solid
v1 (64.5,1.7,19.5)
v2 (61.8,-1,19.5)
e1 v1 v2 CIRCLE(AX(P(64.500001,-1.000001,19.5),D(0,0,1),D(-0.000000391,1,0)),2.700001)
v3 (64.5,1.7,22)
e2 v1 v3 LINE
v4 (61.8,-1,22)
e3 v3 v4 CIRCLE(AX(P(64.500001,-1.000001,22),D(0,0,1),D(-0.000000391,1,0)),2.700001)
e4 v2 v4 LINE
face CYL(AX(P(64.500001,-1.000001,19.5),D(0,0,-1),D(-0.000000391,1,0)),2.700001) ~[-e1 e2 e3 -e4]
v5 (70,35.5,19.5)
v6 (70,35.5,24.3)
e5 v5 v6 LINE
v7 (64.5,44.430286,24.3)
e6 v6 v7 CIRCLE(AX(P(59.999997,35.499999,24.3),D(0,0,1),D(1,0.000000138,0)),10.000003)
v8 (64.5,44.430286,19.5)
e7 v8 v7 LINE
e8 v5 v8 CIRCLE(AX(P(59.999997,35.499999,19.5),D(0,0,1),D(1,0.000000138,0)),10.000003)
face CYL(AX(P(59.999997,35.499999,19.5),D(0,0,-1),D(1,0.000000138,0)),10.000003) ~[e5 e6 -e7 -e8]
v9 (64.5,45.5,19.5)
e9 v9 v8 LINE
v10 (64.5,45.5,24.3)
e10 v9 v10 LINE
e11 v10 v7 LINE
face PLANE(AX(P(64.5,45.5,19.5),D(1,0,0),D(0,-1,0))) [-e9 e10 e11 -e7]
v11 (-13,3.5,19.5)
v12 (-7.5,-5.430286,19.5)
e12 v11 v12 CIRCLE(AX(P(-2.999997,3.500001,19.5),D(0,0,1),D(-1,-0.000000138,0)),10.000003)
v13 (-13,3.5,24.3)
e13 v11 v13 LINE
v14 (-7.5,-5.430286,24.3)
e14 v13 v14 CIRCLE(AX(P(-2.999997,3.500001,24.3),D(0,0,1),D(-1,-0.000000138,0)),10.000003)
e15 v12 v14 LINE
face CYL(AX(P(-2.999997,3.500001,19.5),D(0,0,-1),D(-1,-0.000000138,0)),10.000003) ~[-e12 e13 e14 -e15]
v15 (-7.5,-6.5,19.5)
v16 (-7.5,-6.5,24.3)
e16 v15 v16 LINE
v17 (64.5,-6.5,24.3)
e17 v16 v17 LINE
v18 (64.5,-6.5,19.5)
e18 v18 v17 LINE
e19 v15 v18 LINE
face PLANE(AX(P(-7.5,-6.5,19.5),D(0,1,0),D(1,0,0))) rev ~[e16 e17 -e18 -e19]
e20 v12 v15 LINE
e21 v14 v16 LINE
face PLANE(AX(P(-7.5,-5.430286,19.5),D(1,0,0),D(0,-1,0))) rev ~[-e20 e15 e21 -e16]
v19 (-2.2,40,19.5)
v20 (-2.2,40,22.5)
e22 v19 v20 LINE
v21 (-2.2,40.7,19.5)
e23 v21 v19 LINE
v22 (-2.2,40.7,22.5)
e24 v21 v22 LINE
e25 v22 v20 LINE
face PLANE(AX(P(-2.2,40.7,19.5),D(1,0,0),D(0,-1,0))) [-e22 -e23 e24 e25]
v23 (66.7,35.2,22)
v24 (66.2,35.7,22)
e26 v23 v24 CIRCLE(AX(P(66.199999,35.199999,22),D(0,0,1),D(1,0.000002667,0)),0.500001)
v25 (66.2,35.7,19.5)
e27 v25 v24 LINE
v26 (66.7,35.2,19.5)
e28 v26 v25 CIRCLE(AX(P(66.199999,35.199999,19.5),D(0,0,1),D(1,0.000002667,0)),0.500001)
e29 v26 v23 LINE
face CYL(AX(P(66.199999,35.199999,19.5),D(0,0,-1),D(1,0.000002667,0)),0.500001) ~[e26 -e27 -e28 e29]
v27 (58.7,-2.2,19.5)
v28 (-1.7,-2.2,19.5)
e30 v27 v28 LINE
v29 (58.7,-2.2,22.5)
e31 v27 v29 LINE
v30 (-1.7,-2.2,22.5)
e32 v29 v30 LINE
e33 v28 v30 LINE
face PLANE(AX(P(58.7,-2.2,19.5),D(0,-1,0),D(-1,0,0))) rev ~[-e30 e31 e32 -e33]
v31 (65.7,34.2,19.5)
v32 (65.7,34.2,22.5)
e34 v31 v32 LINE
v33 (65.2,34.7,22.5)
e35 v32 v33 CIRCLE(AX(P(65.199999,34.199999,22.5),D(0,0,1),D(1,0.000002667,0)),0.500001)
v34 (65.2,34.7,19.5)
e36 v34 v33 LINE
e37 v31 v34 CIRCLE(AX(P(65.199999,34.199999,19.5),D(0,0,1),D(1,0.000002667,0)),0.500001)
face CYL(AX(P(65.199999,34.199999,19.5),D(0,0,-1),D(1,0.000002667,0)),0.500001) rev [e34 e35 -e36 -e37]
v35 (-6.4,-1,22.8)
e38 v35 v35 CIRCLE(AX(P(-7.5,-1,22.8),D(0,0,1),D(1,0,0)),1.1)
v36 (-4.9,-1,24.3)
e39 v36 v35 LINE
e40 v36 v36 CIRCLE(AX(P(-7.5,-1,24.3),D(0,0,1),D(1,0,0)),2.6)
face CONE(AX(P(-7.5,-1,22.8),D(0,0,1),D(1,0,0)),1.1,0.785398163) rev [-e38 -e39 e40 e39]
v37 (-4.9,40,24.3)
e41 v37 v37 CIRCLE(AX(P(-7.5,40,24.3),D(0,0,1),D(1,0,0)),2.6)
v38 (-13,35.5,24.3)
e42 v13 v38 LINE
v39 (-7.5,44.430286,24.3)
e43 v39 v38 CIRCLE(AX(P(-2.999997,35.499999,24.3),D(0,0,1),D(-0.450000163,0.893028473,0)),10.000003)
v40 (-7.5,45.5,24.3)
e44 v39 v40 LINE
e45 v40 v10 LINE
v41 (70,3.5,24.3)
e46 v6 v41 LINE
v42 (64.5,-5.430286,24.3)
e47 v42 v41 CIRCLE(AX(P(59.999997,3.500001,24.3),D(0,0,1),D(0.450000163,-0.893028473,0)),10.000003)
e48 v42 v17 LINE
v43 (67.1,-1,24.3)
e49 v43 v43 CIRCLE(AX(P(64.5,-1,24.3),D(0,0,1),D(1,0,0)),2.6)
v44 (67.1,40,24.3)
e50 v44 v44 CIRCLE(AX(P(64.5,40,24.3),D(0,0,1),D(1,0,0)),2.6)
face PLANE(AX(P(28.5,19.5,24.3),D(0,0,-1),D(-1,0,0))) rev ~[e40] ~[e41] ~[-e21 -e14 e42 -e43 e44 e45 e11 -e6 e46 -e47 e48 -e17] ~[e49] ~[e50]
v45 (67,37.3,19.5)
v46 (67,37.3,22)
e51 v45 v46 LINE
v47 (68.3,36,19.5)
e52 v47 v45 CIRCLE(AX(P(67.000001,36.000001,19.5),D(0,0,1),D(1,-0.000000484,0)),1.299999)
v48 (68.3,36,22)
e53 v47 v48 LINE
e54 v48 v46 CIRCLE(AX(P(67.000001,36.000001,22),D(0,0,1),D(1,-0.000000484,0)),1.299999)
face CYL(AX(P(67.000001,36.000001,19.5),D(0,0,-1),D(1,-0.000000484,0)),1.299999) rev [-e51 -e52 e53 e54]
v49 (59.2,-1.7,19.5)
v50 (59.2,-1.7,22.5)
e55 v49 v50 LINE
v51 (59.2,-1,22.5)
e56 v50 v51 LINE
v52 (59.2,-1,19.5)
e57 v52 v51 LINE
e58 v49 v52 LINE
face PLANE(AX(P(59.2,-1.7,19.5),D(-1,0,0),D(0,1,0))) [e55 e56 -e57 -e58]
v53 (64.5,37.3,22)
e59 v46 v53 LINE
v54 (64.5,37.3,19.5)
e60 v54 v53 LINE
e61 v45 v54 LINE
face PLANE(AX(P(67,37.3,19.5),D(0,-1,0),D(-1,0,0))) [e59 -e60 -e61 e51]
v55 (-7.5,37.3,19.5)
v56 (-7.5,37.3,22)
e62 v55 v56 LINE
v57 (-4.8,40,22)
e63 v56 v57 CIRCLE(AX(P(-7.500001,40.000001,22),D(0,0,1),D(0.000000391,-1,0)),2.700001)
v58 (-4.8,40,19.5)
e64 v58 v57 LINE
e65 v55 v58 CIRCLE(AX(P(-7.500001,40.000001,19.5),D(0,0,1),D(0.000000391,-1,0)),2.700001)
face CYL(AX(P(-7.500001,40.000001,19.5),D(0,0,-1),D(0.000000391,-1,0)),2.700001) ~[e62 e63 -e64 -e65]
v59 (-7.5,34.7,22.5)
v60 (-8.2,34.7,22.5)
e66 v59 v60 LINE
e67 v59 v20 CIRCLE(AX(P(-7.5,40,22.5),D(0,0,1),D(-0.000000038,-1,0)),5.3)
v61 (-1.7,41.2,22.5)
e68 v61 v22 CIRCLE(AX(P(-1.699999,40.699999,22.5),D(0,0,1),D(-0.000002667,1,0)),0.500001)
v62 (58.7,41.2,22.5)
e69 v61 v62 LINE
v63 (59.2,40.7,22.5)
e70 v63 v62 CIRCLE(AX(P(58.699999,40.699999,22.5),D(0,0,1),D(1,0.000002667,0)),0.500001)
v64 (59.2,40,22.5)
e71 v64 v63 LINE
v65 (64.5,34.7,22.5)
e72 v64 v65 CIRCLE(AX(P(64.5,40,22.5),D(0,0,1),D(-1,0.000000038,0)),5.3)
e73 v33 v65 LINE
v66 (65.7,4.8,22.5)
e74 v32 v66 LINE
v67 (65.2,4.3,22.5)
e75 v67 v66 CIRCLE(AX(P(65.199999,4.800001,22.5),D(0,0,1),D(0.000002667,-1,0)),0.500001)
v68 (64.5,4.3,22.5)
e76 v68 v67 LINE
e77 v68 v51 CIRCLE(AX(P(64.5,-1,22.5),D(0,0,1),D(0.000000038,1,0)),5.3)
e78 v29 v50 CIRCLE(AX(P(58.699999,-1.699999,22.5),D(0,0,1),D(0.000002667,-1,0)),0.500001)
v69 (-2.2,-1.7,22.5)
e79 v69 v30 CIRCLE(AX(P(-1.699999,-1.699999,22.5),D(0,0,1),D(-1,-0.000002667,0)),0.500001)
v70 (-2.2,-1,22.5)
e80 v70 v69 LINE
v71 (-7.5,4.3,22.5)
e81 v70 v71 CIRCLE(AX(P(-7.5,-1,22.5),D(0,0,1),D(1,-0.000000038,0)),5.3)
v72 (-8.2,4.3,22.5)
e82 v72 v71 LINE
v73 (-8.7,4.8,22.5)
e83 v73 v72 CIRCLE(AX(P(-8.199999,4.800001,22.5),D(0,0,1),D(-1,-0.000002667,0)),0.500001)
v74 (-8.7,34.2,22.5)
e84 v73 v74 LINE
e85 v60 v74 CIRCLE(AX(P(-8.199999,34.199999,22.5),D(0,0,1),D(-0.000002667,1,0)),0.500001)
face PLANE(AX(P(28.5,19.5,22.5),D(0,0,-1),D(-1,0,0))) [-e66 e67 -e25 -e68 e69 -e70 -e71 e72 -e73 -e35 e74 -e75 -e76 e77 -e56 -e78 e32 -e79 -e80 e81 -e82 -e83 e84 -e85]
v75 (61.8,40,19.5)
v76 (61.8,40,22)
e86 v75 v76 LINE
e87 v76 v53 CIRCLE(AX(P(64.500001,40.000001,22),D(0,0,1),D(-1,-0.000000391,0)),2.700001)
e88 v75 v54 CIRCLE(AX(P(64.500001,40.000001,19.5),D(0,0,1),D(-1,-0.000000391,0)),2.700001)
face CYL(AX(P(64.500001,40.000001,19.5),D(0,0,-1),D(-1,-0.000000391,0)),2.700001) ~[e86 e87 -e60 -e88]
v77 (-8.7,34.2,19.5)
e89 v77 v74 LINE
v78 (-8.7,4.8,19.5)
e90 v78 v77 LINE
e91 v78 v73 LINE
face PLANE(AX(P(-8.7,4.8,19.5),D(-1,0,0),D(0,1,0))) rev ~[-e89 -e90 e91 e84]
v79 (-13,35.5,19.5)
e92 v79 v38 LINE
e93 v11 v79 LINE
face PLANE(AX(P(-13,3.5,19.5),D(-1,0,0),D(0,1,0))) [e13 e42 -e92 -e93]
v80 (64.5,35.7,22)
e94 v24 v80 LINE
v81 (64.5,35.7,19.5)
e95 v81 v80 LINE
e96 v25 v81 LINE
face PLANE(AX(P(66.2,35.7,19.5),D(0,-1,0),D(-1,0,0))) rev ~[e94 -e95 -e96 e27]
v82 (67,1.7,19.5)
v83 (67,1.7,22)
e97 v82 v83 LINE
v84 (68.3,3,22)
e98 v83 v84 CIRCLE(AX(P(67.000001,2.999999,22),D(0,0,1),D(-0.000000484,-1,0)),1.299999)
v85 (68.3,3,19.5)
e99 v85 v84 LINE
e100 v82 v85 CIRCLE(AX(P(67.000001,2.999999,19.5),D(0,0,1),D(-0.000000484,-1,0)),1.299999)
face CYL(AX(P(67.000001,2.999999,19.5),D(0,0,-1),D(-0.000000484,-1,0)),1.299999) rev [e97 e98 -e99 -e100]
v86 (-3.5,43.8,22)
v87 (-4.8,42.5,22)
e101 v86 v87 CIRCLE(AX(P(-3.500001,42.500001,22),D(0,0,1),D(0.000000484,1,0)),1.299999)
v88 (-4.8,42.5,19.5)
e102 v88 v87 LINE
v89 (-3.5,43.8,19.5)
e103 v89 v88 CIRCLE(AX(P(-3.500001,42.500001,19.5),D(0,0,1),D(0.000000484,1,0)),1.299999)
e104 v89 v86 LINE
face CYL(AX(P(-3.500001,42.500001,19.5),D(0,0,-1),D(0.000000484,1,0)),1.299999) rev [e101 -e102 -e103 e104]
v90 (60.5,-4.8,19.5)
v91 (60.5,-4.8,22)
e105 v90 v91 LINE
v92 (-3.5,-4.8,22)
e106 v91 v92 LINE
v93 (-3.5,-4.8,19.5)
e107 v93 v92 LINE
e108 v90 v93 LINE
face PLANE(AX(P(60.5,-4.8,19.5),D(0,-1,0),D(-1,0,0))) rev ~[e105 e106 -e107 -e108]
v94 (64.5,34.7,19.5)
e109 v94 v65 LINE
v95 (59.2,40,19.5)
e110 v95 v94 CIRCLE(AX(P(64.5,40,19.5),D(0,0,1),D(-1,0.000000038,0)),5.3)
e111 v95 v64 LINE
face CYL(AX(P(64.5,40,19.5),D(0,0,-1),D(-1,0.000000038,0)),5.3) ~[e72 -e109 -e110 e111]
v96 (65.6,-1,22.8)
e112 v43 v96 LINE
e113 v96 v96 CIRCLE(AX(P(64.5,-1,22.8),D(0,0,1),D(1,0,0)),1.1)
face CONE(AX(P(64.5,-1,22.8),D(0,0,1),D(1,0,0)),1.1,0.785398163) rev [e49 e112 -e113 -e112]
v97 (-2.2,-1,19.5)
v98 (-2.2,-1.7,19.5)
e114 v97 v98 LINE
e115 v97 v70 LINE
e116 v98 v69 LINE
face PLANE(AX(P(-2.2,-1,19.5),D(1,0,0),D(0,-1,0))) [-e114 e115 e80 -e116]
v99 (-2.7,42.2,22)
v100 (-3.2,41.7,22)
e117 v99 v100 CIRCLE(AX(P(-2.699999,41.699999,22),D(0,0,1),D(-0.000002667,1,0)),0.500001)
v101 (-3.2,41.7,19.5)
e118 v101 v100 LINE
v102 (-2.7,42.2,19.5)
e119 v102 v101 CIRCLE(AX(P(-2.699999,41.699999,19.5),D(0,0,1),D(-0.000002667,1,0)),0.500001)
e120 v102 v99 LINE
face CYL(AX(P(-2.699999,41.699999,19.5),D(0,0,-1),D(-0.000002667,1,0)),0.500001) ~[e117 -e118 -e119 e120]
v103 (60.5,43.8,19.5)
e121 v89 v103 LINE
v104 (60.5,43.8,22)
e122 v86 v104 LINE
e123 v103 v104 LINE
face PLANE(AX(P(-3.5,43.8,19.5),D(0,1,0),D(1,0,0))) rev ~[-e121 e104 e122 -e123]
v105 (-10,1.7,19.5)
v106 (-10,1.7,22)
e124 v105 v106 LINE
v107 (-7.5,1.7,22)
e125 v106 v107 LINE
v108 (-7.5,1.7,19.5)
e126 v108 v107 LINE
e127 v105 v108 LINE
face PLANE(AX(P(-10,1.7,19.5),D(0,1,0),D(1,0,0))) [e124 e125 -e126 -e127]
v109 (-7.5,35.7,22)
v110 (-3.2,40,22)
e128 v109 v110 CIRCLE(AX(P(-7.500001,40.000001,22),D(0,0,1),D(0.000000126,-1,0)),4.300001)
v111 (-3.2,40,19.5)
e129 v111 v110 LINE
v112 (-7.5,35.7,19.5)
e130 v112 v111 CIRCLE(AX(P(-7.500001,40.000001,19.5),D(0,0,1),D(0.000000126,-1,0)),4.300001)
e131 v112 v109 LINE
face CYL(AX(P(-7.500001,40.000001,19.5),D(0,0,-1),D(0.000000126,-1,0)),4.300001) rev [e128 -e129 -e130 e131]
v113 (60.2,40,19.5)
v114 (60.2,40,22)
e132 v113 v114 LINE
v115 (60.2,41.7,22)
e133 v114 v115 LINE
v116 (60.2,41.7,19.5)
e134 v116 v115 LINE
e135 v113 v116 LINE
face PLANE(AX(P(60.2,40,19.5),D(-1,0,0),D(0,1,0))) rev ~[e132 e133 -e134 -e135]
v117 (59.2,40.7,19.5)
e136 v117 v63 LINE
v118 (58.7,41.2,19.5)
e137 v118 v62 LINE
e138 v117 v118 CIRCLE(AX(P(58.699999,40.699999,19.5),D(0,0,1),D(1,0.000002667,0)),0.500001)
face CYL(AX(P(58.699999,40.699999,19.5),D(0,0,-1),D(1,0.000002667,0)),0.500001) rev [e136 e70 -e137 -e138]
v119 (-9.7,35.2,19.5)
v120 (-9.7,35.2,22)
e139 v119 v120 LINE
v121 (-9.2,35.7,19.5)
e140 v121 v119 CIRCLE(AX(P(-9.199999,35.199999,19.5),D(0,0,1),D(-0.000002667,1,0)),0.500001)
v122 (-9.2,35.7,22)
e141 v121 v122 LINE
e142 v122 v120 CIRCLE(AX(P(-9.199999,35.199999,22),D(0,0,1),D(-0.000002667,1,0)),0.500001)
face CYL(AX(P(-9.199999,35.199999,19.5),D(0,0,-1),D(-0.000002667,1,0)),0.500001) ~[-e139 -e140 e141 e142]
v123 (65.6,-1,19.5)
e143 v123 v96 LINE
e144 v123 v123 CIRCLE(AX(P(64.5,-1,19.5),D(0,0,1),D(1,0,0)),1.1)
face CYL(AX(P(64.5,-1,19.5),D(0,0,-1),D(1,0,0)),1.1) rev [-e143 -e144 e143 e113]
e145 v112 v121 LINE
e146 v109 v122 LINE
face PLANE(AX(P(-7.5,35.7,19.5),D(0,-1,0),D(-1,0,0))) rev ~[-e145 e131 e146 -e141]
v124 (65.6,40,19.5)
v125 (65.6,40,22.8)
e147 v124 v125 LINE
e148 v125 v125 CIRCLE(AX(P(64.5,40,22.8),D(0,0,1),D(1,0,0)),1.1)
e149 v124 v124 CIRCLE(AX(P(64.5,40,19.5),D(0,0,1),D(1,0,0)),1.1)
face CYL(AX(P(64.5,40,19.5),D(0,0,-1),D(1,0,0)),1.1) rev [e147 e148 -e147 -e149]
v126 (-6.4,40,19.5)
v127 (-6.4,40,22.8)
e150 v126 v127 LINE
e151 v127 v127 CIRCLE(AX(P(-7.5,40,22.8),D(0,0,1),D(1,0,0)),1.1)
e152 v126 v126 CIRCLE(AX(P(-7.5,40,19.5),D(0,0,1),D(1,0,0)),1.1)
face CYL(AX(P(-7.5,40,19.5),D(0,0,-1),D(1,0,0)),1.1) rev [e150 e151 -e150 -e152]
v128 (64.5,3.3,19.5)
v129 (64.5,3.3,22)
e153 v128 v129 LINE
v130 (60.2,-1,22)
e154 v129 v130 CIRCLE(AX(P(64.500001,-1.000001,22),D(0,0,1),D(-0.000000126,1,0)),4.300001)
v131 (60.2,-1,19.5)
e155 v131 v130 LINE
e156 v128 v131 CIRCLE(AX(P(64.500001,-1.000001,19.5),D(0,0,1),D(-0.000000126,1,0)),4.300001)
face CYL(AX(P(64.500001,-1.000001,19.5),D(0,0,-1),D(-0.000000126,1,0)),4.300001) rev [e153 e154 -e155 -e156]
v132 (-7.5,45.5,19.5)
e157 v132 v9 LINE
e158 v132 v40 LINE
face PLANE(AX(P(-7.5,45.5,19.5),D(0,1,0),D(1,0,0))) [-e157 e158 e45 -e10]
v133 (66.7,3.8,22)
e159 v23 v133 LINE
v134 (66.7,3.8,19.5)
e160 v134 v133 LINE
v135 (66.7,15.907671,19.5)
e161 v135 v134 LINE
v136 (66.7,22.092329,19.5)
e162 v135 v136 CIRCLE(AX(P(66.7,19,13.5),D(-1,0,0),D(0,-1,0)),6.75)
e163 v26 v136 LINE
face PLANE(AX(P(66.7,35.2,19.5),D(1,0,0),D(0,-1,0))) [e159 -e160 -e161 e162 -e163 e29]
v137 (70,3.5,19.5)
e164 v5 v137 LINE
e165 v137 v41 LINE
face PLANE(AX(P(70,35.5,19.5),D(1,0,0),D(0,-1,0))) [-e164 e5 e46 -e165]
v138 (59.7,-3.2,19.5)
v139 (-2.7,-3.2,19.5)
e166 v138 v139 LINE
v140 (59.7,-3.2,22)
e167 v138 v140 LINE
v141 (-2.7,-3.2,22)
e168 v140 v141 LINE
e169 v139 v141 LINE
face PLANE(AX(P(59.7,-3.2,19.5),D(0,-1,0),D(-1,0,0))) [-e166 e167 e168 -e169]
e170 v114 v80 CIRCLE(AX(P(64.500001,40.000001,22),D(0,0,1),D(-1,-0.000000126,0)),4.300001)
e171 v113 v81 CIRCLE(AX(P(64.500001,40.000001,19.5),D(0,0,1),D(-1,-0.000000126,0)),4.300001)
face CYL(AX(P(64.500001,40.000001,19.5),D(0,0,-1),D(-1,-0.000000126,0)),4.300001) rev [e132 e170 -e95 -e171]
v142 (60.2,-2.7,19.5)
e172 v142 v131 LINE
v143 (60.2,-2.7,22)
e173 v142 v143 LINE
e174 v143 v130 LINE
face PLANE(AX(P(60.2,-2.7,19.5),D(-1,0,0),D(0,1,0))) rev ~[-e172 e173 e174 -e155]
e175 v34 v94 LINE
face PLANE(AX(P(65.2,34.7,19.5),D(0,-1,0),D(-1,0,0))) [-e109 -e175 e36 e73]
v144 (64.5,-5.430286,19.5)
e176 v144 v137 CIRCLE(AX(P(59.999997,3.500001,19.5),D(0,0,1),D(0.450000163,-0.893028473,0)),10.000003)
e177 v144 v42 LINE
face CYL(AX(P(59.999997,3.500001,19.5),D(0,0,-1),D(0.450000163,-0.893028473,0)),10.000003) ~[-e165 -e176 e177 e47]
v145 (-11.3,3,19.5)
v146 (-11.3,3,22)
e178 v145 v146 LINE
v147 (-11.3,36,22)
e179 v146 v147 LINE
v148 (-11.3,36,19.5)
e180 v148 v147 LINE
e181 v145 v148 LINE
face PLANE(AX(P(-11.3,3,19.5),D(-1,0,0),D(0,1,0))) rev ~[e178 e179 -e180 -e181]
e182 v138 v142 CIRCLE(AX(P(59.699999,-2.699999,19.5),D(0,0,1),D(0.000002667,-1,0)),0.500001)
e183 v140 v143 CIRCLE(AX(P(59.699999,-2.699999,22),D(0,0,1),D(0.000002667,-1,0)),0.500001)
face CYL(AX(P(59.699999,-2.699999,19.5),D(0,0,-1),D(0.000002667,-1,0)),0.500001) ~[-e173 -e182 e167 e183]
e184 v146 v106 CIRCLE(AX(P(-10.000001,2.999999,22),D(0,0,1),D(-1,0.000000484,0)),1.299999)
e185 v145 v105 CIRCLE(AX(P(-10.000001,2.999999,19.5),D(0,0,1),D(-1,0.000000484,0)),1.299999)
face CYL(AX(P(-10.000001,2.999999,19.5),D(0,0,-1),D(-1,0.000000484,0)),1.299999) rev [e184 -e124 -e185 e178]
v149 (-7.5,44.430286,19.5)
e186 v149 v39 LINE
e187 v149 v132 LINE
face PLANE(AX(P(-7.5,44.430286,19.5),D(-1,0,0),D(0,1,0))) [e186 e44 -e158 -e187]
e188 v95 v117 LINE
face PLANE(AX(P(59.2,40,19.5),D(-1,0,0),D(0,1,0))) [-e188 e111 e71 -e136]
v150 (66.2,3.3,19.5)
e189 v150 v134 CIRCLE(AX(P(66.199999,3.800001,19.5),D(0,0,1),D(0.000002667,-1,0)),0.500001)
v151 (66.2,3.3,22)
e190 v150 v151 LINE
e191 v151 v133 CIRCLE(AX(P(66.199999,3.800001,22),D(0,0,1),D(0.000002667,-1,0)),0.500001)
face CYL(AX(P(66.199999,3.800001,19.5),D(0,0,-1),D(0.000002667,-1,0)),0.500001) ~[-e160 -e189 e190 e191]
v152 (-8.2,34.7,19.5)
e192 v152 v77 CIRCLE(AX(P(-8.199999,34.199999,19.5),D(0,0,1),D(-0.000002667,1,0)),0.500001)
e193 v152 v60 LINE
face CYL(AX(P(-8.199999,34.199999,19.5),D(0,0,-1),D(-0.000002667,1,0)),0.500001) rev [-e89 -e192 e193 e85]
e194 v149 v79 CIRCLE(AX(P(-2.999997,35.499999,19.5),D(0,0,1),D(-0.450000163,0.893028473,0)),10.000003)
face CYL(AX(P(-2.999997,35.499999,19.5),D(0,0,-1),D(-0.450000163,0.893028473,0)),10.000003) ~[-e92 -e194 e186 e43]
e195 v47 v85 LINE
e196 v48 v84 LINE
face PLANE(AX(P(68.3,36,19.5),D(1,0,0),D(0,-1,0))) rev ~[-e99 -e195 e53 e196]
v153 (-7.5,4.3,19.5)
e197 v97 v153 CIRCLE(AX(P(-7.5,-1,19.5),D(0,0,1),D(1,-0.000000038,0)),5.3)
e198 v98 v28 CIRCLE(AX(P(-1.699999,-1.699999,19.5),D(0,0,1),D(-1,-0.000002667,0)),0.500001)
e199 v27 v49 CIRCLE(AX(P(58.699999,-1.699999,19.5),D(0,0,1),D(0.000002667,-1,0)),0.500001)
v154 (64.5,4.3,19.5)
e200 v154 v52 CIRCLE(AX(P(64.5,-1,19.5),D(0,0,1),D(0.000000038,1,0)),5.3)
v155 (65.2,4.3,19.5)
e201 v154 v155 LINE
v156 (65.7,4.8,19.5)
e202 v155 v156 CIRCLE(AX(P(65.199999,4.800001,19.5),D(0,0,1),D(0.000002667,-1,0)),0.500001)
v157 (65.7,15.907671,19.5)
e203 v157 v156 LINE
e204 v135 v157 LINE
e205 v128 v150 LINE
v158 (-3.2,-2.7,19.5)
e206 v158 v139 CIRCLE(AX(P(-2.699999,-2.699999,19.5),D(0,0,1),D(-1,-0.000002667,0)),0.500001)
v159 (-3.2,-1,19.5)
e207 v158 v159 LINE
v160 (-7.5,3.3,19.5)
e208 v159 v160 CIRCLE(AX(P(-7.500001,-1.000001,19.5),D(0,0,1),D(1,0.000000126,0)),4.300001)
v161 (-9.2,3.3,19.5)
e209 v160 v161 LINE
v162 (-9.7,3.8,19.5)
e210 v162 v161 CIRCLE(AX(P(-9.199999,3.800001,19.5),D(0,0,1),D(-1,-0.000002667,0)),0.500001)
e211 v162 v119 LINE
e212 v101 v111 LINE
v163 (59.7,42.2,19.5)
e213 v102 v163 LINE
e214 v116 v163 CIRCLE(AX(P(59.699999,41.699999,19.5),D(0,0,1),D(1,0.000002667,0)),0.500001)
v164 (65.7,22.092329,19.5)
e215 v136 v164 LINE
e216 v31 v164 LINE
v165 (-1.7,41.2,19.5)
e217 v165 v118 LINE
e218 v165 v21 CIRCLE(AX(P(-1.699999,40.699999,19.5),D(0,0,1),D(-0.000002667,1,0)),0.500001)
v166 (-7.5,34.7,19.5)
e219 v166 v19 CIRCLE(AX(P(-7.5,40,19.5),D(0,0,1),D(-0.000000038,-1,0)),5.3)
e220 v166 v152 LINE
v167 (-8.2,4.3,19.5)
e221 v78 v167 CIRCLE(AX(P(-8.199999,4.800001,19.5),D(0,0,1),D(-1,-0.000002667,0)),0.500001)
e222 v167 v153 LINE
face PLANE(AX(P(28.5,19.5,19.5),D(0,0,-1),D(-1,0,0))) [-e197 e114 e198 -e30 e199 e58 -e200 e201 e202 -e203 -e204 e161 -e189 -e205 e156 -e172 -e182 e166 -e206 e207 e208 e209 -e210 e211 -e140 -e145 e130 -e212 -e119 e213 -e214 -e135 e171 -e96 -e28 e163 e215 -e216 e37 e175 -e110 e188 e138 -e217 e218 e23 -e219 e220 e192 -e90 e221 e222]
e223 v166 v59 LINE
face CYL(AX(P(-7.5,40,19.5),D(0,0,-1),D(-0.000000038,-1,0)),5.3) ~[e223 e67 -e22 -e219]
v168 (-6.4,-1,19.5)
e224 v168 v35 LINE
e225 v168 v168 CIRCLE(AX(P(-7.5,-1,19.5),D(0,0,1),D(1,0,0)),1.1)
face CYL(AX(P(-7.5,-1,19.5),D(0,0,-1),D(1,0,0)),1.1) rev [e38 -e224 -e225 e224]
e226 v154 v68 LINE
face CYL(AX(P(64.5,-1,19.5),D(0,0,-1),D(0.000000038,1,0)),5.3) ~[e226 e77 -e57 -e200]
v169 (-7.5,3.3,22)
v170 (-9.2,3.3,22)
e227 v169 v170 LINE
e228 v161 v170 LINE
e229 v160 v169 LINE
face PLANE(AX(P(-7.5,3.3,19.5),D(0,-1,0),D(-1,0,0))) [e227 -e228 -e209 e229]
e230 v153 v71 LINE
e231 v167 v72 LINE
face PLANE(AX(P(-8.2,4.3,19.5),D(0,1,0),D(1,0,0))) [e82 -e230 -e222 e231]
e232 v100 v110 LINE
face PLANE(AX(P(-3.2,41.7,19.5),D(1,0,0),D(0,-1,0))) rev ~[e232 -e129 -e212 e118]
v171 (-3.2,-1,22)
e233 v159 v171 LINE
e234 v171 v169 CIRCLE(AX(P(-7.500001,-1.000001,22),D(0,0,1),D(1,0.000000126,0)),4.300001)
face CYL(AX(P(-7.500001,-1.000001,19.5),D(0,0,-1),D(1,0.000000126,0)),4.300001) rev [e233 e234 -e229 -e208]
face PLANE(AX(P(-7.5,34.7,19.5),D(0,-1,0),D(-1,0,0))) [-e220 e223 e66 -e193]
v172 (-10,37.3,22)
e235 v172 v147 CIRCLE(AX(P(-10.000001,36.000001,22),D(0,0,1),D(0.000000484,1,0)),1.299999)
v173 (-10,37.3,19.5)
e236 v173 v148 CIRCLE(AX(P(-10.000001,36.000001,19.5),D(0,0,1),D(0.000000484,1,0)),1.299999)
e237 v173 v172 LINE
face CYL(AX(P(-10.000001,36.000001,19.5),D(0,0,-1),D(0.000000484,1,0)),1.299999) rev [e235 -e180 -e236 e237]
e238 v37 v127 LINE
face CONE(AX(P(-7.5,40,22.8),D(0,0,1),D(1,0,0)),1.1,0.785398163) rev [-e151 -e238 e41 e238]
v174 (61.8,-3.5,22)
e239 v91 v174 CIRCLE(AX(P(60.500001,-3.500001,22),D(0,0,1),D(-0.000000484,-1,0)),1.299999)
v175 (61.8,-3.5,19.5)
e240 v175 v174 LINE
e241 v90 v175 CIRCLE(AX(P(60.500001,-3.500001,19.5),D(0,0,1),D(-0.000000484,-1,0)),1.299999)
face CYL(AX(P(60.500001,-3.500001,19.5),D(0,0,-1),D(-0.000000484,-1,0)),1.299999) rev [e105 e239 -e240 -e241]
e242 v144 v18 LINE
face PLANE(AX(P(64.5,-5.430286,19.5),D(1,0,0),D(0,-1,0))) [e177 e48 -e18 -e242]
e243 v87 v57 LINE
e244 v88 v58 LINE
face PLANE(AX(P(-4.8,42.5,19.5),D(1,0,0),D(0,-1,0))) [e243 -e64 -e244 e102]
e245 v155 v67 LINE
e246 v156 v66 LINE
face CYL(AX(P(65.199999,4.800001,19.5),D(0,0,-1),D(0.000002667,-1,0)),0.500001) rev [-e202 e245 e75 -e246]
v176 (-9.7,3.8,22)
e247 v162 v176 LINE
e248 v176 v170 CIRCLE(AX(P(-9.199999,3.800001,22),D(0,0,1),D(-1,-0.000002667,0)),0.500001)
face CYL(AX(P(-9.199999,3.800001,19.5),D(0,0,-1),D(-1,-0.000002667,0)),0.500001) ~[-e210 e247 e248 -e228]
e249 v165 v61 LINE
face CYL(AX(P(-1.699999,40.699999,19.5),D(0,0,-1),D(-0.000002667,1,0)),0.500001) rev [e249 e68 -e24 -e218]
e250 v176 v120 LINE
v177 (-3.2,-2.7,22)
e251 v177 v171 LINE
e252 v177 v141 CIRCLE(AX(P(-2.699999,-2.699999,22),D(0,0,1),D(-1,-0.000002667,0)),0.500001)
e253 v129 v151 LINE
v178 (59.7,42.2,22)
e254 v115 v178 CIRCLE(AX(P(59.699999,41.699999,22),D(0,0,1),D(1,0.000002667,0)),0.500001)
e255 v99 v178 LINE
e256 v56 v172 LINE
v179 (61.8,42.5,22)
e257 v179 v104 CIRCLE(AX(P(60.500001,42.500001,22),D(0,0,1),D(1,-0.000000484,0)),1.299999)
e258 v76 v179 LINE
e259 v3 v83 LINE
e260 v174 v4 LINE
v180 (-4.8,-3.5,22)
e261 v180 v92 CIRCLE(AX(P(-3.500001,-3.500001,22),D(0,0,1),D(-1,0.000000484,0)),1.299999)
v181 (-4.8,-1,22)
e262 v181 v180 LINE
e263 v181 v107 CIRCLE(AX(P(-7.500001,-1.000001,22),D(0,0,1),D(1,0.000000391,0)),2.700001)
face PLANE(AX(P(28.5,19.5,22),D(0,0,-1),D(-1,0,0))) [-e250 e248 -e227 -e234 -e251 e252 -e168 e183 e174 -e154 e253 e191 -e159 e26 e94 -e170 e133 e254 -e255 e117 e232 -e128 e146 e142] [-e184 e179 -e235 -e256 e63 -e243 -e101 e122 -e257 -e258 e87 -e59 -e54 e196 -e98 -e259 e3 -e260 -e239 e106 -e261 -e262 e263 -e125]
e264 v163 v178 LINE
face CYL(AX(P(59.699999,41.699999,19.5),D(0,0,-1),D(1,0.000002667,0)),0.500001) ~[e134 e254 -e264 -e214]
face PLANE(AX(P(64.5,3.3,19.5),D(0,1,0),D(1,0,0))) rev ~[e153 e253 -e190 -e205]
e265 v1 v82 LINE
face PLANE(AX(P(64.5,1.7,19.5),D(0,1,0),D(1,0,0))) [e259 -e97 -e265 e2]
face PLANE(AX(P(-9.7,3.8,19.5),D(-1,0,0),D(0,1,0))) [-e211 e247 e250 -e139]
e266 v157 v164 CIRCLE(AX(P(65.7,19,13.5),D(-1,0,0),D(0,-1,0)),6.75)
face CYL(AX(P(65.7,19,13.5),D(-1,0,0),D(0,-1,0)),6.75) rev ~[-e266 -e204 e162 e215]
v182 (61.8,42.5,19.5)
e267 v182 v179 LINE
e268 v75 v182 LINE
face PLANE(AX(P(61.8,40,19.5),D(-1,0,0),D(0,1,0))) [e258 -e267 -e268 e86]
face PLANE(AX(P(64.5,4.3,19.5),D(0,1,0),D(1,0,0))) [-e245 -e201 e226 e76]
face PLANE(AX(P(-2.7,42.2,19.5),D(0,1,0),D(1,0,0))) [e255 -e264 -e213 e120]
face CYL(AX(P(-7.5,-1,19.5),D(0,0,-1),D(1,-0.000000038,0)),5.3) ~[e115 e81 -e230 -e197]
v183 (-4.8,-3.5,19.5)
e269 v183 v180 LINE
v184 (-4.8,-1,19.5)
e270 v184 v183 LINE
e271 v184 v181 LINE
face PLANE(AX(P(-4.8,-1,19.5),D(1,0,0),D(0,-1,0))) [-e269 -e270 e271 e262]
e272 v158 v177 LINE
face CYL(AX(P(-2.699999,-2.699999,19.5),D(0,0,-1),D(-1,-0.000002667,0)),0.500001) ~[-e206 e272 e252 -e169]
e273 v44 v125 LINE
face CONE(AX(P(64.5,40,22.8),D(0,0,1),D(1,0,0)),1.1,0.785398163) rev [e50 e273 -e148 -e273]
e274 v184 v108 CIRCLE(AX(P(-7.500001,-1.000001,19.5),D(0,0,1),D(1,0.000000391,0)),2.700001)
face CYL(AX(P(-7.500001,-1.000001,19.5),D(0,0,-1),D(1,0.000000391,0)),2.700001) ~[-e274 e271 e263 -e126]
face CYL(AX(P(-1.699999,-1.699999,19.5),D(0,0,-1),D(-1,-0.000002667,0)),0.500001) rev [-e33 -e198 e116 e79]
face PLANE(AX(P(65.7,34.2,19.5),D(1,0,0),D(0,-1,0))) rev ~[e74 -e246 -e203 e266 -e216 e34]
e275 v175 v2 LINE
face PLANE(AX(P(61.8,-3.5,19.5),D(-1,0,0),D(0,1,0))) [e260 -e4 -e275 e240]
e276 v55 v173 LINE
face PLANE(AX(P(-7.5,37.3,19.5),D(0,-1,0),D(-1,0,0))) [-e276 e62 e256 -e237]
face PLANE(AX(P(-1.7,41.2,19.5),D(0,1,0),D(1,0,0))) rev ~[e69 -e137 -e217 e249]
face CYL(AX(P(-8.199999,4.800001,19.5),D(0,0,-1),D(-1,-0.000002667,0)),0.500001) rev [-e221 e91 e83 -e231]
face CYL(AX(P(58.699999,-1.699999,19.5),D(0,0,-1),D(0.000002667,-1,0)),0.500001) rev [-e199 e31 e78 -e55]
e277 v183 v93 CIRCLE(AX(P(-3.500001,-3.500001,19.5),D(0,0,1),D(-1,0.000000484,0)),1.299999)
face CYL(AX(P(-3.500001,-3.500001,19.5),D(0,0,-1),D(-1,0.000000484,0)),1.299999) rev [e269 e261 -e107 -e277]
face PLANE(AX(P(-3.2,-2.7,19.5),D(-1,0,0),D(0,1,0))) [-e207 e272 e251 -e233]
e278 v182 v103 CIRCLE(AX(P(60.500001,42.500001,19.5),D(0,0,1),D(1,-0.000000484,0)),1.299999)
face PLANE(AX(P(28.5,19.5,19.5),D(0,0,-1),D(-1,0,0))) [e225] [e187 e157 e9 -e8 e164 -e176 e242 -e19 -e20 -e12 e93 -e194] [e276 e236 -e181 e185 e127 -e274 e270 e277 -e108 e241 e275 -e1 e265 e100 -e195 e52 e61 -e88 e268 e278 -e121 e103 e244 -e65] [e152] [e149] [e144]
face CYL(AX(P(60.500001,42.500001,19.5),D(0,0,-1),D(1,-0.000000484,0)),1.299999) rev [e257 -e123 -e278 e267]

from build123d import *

# Parameters (mm, degrees)
SKETCH033_R     = 1.1
PAD017_DEPTH    = 4.8
POCKET009_DEPTH = 2.5
POCKET010_DEPTH = 3
CHAMFER011_SIZE = 1.5
SKETCH040_R     = 6.75
POCKET014_DEPTH = 2


with BuildPart() as part:
    # Sketch033 → Pad017 (new body)
    with BuildSketch(Plane.XY):
        with BuildLine():
            Line((0, 10), (0, 42))
            ThreePointArc((5.5, 50.930286), (1.485307, 47.244044), (0, 42))
            Line((5.5, 50.930286), (5.5, 52))
            Line((5.5, 52), (77.5, 52))
            Line((77.5, 52), (77.5, 50.930286))
            ThreePointArc((83, 42), (81.514693, 47.244044), (77.5, 50.930286))
            Line((83, 42), (83, 10))
            ThreePointArc((77.5, 1.069714), (81.514693, 4.755956), (83, 10))
            Line((77.5, 1.069714), (77.5, 0))
            Line((5.5, 0), (77.5, 0))
            Line((5.5, 1.069714), (5.5, 0))
            ThreePointArc((0, 10), (1.485307, 4.755956), (5.5, 1.069714))
        make_face()
        with Locations((5.5, 46.5)):
            Circle(SKETCH033_R, mode=Mode.SUBTRACT)
        with Locations((77.5, 46.5)):
            Circle(SKETCH033_R, mode=Mode.SUBTRACT)
        with Locations((5.5, 5.5)):
            Circle(SKETCH033_R, mode=Mode.SUBTRACT)
        with Locations((77.5, 5.5)):
            Circle(SKETCH033_R, mode=Mode.SUBTRACT)
    extrude(amount=PAD017_DEPTH)

    # Sketch034 → Pocket009 (cut)
    with BuildSketch(Plane.XY):
        with BuildLine():
            Line((9.5, 50.3), (73.5, 50.3))
            ThreePointArc((74.8, 49), (74.419239, 49.919239), (73.5, 50.3))
            Line((74.8, 46.5), (74.8, 49))
            ThreePointArc((74.8, 46.5), (75.590812, 44.590812), (77.5, 43.8))
            Line((80, 43.8), (77.5, 43.8))
            ThreePointArc((81.3, 42.5), (80.919239, 43.419239), (80, 43.8))
            Line((81.3, 42.5), (81.3, 9.5))
            ThreePointArc((80, 8.2), (80.919239, 8.580761), (81.3, 9.5))
            Line((77.5, 8.2), (80, 8.2))
            ThreePointArc((77.5, 8.2), (75.590812, 7.409188), (74.8, 5.5))
            Line((74.8, 3), (74.8, 5.5))
            ThreePointArc((73.5, 1.7), (74.419239, 2.080761), (74.8, 3))
            Line((73.5, 1.7), (9.5, 1.7))
            ThreePointArc((8.2, 3), (8.580761, 2.080761), (9.5, 1.7))
            Line((8.2, 5.5), (8.2, 3))
            ThreePointArc((8.2, 5.5), (7.409188, 7.409188), (5.5, 8.2))
            Line((3, 8.2), (5.5, 8.2))
            ThreePointArc((1.7, 9.5), (2.080761, 8.580761), (3, 8.2))
            Line((1.7, 9.5), (1.7, 42.5))
            ThreePointArc((3, 43.8), (2.080761, 43.419239), (1.7, 42.5))
            Line((5.5, 43.8), (3, 43.8))
            ThreePointArc((5.5, 43.8), (7.409188, 44.590812), (8.2, 46.5))
            Line((8.2, 49), (8.2, 46.5))
            ThreePointArc((9.5, 50.3), (8.580761, 49.919239), (8.2, 49))
        make_face()
        with BuildLine():
            Line((10.3, 48.7), (72.7, 48.7))
            ThreePointArc((73.2, 48.2), (73.053553, 48.553553), (72.7, 48.7))
            Line((73.2, 46.5), (73.2, 48.2))
            ThreePointArc((73.2, 46.5), (74.459441, 43.459441), (77.5, 42.2))
            Line((79.2, 42.2), (77.5, 42.2))
            ThreePointArc((79.7, 41.7), (79.553553, 42.053553), (79.2, 42.2))
            Line((79.7, 41.7), (79.7, 10.3))
            ThreePointArc((79.2, 9.8), (79.553553, 9.946447), (79.7, 10.3))
            Line((77.5, 9.8), (79.2, 9.8))
            ThreePointArc((77.5, 9.8), (74.459441, 8.540559), (73.2, 5.5))
            Line((73.2, 3.8), (73.2, 5.5))
            ThreePointArc((72.7, 3.3), (73.053553, 3.446447), (73.2, 3.8))
            Line((72.7, 3.3), (10.3, 3.3))
            ThreePointArc((9.8, 3.8), (9.946447, 3.446447), (10.3, 3.3))
            Line((9.8, 3.8), (9.8, 5.5))
            ThreePointArc((9.8, 5.5), (8.540559, 8.540559), (5.5, 9.8))
            Line((5.5, 9.8), (3.8, 9.8))
            ThreePointArc((3.3, 10.3), (3.446447, 9.946447), (3.8, 9.8))
            Line((3.3, 10.3), (3.3, 41.7))
            ThreePointArc((3.8, 42.2), (3.446447, 42.053553), (3.3, 41.7))
            Line((5.5, 42.2), (3.8, 42.2))
            ThreePointArc((5.5, 42.2), (8.540559, 43.459441), (9.8, 46.5))
            Line((9.8, 48.2), (9.8, 46.5))
            ThreePointArc((10.3, 48.7), (9.946447, 48.553553), (9.8, 48.2))
        make_face(mode=Mode.SUBTRACT)
    extrude(amount=POCKET009_DEPTH, mode=Mode.SUBTRACT)

    # Sketch035 → Pocket010 (cut)
    with BuildSketch(Plane.XY):
        with BuildLine():
            Line((11.3, 47.7), (71.7, 47.7))
            ThreePointArc((72.2, 47.2), (72.053553, 47.553553), (71.7, 47.7))
            Line((72.2, 46.5), (72.2, 47.2))
            ThreePointArc((72.2, 46.5), (73.752334, 42.752334), (77.5, 41.2))
            Line((78.2, 41.2), (77.5, 41.2))
            ThreePointArc((78.7, 40.7), (78.553553, 41.053553), (78.2, 41.2))
            Line((78.7, 40.7), (78.7, 11.3))
            ThreePointArc((78.2, 10.8), (78.553553, 10.946447), (78.7, 11.3))
            Line((77.5, 10.8), (78.2, 10.8))
            ThreePointArc((77.5, 10.8), (73.752334, 9.247666), (72.2, 5.5))
            Line((72.2, 4.8), (72.2, 5.5))
            ThreePointArc((71.7, 4.3), (72.053553, 4.446447), (72.2, 4.8))
            Line((71.7, 4.3), (11.3, 4.3))
            ThreePointArc((10.8, 4.8), (10.946447, 4.446447), (11.3, 4.3))
            Line((10.8, 5.5), (10.8, 4.8))
            ThreePointArc((10.8, 5.5), (9.247666, 9.247666), (5.5, 10.8))
            Line((4.8, 10.8), (5.5, 10.8))
            ThreePointArc((4.3, 11.3), (4.446447, 10.946447), (4.8, 10.8))
            Line((4.3, 11.3), (4.3, 40.7))
            ThreePointArc((4.8, 41.2), (4.446447, 41.053553), (4.3, 40.7))
            Line((5.5, 41.2), (4.8, 41.2))
            ThreePointArc((5.5, 41.2), (9.247666, 42.752334), (10.8, 46.5))
            Line((10.8, 47.2), (10.8, 46.5))
            ThreePointArc((11.3, 47.7), (10.946447, 47.553553), (10.8, 47.2))
        make_face()
    extrude(amount=POCKET010_DEPTH, mode=Mode.SUBTRACT)

    # Chamfer011
    chamfer011_edges = [part.edges().sort_by_distance(p)[0] for p in [
        (76.4, 46.5, 4.8),
        (76.4, 5.5, 4.8),
        (4.4, 5.5, 4.8),
        (4.4, 46.5, 4.8),
    ]]
    chamfer(chamfer011_edges, length=CHAMFER011_SIZE)

    # Sketch040 (on Face79 of Chamfer011) → Pocket014 (cut)
    with BuildSketch(Plane(origin=(78.7, 0, 0), x_dir=(0, -1, 0), z_dir=(-1, 0, 0))):
        with Locations((-25.5, -6)):
            Circle(SKETCH040_R)
    extrude(amount=-POCKET014_DEPTH, mode=Mode.SUBTRACT)


with BuildPart() as part_1:
    # Body009 placement: moved
    add(part.part.moved(Location((-13, -6.5, 19.5))))


solid = part_1.part
